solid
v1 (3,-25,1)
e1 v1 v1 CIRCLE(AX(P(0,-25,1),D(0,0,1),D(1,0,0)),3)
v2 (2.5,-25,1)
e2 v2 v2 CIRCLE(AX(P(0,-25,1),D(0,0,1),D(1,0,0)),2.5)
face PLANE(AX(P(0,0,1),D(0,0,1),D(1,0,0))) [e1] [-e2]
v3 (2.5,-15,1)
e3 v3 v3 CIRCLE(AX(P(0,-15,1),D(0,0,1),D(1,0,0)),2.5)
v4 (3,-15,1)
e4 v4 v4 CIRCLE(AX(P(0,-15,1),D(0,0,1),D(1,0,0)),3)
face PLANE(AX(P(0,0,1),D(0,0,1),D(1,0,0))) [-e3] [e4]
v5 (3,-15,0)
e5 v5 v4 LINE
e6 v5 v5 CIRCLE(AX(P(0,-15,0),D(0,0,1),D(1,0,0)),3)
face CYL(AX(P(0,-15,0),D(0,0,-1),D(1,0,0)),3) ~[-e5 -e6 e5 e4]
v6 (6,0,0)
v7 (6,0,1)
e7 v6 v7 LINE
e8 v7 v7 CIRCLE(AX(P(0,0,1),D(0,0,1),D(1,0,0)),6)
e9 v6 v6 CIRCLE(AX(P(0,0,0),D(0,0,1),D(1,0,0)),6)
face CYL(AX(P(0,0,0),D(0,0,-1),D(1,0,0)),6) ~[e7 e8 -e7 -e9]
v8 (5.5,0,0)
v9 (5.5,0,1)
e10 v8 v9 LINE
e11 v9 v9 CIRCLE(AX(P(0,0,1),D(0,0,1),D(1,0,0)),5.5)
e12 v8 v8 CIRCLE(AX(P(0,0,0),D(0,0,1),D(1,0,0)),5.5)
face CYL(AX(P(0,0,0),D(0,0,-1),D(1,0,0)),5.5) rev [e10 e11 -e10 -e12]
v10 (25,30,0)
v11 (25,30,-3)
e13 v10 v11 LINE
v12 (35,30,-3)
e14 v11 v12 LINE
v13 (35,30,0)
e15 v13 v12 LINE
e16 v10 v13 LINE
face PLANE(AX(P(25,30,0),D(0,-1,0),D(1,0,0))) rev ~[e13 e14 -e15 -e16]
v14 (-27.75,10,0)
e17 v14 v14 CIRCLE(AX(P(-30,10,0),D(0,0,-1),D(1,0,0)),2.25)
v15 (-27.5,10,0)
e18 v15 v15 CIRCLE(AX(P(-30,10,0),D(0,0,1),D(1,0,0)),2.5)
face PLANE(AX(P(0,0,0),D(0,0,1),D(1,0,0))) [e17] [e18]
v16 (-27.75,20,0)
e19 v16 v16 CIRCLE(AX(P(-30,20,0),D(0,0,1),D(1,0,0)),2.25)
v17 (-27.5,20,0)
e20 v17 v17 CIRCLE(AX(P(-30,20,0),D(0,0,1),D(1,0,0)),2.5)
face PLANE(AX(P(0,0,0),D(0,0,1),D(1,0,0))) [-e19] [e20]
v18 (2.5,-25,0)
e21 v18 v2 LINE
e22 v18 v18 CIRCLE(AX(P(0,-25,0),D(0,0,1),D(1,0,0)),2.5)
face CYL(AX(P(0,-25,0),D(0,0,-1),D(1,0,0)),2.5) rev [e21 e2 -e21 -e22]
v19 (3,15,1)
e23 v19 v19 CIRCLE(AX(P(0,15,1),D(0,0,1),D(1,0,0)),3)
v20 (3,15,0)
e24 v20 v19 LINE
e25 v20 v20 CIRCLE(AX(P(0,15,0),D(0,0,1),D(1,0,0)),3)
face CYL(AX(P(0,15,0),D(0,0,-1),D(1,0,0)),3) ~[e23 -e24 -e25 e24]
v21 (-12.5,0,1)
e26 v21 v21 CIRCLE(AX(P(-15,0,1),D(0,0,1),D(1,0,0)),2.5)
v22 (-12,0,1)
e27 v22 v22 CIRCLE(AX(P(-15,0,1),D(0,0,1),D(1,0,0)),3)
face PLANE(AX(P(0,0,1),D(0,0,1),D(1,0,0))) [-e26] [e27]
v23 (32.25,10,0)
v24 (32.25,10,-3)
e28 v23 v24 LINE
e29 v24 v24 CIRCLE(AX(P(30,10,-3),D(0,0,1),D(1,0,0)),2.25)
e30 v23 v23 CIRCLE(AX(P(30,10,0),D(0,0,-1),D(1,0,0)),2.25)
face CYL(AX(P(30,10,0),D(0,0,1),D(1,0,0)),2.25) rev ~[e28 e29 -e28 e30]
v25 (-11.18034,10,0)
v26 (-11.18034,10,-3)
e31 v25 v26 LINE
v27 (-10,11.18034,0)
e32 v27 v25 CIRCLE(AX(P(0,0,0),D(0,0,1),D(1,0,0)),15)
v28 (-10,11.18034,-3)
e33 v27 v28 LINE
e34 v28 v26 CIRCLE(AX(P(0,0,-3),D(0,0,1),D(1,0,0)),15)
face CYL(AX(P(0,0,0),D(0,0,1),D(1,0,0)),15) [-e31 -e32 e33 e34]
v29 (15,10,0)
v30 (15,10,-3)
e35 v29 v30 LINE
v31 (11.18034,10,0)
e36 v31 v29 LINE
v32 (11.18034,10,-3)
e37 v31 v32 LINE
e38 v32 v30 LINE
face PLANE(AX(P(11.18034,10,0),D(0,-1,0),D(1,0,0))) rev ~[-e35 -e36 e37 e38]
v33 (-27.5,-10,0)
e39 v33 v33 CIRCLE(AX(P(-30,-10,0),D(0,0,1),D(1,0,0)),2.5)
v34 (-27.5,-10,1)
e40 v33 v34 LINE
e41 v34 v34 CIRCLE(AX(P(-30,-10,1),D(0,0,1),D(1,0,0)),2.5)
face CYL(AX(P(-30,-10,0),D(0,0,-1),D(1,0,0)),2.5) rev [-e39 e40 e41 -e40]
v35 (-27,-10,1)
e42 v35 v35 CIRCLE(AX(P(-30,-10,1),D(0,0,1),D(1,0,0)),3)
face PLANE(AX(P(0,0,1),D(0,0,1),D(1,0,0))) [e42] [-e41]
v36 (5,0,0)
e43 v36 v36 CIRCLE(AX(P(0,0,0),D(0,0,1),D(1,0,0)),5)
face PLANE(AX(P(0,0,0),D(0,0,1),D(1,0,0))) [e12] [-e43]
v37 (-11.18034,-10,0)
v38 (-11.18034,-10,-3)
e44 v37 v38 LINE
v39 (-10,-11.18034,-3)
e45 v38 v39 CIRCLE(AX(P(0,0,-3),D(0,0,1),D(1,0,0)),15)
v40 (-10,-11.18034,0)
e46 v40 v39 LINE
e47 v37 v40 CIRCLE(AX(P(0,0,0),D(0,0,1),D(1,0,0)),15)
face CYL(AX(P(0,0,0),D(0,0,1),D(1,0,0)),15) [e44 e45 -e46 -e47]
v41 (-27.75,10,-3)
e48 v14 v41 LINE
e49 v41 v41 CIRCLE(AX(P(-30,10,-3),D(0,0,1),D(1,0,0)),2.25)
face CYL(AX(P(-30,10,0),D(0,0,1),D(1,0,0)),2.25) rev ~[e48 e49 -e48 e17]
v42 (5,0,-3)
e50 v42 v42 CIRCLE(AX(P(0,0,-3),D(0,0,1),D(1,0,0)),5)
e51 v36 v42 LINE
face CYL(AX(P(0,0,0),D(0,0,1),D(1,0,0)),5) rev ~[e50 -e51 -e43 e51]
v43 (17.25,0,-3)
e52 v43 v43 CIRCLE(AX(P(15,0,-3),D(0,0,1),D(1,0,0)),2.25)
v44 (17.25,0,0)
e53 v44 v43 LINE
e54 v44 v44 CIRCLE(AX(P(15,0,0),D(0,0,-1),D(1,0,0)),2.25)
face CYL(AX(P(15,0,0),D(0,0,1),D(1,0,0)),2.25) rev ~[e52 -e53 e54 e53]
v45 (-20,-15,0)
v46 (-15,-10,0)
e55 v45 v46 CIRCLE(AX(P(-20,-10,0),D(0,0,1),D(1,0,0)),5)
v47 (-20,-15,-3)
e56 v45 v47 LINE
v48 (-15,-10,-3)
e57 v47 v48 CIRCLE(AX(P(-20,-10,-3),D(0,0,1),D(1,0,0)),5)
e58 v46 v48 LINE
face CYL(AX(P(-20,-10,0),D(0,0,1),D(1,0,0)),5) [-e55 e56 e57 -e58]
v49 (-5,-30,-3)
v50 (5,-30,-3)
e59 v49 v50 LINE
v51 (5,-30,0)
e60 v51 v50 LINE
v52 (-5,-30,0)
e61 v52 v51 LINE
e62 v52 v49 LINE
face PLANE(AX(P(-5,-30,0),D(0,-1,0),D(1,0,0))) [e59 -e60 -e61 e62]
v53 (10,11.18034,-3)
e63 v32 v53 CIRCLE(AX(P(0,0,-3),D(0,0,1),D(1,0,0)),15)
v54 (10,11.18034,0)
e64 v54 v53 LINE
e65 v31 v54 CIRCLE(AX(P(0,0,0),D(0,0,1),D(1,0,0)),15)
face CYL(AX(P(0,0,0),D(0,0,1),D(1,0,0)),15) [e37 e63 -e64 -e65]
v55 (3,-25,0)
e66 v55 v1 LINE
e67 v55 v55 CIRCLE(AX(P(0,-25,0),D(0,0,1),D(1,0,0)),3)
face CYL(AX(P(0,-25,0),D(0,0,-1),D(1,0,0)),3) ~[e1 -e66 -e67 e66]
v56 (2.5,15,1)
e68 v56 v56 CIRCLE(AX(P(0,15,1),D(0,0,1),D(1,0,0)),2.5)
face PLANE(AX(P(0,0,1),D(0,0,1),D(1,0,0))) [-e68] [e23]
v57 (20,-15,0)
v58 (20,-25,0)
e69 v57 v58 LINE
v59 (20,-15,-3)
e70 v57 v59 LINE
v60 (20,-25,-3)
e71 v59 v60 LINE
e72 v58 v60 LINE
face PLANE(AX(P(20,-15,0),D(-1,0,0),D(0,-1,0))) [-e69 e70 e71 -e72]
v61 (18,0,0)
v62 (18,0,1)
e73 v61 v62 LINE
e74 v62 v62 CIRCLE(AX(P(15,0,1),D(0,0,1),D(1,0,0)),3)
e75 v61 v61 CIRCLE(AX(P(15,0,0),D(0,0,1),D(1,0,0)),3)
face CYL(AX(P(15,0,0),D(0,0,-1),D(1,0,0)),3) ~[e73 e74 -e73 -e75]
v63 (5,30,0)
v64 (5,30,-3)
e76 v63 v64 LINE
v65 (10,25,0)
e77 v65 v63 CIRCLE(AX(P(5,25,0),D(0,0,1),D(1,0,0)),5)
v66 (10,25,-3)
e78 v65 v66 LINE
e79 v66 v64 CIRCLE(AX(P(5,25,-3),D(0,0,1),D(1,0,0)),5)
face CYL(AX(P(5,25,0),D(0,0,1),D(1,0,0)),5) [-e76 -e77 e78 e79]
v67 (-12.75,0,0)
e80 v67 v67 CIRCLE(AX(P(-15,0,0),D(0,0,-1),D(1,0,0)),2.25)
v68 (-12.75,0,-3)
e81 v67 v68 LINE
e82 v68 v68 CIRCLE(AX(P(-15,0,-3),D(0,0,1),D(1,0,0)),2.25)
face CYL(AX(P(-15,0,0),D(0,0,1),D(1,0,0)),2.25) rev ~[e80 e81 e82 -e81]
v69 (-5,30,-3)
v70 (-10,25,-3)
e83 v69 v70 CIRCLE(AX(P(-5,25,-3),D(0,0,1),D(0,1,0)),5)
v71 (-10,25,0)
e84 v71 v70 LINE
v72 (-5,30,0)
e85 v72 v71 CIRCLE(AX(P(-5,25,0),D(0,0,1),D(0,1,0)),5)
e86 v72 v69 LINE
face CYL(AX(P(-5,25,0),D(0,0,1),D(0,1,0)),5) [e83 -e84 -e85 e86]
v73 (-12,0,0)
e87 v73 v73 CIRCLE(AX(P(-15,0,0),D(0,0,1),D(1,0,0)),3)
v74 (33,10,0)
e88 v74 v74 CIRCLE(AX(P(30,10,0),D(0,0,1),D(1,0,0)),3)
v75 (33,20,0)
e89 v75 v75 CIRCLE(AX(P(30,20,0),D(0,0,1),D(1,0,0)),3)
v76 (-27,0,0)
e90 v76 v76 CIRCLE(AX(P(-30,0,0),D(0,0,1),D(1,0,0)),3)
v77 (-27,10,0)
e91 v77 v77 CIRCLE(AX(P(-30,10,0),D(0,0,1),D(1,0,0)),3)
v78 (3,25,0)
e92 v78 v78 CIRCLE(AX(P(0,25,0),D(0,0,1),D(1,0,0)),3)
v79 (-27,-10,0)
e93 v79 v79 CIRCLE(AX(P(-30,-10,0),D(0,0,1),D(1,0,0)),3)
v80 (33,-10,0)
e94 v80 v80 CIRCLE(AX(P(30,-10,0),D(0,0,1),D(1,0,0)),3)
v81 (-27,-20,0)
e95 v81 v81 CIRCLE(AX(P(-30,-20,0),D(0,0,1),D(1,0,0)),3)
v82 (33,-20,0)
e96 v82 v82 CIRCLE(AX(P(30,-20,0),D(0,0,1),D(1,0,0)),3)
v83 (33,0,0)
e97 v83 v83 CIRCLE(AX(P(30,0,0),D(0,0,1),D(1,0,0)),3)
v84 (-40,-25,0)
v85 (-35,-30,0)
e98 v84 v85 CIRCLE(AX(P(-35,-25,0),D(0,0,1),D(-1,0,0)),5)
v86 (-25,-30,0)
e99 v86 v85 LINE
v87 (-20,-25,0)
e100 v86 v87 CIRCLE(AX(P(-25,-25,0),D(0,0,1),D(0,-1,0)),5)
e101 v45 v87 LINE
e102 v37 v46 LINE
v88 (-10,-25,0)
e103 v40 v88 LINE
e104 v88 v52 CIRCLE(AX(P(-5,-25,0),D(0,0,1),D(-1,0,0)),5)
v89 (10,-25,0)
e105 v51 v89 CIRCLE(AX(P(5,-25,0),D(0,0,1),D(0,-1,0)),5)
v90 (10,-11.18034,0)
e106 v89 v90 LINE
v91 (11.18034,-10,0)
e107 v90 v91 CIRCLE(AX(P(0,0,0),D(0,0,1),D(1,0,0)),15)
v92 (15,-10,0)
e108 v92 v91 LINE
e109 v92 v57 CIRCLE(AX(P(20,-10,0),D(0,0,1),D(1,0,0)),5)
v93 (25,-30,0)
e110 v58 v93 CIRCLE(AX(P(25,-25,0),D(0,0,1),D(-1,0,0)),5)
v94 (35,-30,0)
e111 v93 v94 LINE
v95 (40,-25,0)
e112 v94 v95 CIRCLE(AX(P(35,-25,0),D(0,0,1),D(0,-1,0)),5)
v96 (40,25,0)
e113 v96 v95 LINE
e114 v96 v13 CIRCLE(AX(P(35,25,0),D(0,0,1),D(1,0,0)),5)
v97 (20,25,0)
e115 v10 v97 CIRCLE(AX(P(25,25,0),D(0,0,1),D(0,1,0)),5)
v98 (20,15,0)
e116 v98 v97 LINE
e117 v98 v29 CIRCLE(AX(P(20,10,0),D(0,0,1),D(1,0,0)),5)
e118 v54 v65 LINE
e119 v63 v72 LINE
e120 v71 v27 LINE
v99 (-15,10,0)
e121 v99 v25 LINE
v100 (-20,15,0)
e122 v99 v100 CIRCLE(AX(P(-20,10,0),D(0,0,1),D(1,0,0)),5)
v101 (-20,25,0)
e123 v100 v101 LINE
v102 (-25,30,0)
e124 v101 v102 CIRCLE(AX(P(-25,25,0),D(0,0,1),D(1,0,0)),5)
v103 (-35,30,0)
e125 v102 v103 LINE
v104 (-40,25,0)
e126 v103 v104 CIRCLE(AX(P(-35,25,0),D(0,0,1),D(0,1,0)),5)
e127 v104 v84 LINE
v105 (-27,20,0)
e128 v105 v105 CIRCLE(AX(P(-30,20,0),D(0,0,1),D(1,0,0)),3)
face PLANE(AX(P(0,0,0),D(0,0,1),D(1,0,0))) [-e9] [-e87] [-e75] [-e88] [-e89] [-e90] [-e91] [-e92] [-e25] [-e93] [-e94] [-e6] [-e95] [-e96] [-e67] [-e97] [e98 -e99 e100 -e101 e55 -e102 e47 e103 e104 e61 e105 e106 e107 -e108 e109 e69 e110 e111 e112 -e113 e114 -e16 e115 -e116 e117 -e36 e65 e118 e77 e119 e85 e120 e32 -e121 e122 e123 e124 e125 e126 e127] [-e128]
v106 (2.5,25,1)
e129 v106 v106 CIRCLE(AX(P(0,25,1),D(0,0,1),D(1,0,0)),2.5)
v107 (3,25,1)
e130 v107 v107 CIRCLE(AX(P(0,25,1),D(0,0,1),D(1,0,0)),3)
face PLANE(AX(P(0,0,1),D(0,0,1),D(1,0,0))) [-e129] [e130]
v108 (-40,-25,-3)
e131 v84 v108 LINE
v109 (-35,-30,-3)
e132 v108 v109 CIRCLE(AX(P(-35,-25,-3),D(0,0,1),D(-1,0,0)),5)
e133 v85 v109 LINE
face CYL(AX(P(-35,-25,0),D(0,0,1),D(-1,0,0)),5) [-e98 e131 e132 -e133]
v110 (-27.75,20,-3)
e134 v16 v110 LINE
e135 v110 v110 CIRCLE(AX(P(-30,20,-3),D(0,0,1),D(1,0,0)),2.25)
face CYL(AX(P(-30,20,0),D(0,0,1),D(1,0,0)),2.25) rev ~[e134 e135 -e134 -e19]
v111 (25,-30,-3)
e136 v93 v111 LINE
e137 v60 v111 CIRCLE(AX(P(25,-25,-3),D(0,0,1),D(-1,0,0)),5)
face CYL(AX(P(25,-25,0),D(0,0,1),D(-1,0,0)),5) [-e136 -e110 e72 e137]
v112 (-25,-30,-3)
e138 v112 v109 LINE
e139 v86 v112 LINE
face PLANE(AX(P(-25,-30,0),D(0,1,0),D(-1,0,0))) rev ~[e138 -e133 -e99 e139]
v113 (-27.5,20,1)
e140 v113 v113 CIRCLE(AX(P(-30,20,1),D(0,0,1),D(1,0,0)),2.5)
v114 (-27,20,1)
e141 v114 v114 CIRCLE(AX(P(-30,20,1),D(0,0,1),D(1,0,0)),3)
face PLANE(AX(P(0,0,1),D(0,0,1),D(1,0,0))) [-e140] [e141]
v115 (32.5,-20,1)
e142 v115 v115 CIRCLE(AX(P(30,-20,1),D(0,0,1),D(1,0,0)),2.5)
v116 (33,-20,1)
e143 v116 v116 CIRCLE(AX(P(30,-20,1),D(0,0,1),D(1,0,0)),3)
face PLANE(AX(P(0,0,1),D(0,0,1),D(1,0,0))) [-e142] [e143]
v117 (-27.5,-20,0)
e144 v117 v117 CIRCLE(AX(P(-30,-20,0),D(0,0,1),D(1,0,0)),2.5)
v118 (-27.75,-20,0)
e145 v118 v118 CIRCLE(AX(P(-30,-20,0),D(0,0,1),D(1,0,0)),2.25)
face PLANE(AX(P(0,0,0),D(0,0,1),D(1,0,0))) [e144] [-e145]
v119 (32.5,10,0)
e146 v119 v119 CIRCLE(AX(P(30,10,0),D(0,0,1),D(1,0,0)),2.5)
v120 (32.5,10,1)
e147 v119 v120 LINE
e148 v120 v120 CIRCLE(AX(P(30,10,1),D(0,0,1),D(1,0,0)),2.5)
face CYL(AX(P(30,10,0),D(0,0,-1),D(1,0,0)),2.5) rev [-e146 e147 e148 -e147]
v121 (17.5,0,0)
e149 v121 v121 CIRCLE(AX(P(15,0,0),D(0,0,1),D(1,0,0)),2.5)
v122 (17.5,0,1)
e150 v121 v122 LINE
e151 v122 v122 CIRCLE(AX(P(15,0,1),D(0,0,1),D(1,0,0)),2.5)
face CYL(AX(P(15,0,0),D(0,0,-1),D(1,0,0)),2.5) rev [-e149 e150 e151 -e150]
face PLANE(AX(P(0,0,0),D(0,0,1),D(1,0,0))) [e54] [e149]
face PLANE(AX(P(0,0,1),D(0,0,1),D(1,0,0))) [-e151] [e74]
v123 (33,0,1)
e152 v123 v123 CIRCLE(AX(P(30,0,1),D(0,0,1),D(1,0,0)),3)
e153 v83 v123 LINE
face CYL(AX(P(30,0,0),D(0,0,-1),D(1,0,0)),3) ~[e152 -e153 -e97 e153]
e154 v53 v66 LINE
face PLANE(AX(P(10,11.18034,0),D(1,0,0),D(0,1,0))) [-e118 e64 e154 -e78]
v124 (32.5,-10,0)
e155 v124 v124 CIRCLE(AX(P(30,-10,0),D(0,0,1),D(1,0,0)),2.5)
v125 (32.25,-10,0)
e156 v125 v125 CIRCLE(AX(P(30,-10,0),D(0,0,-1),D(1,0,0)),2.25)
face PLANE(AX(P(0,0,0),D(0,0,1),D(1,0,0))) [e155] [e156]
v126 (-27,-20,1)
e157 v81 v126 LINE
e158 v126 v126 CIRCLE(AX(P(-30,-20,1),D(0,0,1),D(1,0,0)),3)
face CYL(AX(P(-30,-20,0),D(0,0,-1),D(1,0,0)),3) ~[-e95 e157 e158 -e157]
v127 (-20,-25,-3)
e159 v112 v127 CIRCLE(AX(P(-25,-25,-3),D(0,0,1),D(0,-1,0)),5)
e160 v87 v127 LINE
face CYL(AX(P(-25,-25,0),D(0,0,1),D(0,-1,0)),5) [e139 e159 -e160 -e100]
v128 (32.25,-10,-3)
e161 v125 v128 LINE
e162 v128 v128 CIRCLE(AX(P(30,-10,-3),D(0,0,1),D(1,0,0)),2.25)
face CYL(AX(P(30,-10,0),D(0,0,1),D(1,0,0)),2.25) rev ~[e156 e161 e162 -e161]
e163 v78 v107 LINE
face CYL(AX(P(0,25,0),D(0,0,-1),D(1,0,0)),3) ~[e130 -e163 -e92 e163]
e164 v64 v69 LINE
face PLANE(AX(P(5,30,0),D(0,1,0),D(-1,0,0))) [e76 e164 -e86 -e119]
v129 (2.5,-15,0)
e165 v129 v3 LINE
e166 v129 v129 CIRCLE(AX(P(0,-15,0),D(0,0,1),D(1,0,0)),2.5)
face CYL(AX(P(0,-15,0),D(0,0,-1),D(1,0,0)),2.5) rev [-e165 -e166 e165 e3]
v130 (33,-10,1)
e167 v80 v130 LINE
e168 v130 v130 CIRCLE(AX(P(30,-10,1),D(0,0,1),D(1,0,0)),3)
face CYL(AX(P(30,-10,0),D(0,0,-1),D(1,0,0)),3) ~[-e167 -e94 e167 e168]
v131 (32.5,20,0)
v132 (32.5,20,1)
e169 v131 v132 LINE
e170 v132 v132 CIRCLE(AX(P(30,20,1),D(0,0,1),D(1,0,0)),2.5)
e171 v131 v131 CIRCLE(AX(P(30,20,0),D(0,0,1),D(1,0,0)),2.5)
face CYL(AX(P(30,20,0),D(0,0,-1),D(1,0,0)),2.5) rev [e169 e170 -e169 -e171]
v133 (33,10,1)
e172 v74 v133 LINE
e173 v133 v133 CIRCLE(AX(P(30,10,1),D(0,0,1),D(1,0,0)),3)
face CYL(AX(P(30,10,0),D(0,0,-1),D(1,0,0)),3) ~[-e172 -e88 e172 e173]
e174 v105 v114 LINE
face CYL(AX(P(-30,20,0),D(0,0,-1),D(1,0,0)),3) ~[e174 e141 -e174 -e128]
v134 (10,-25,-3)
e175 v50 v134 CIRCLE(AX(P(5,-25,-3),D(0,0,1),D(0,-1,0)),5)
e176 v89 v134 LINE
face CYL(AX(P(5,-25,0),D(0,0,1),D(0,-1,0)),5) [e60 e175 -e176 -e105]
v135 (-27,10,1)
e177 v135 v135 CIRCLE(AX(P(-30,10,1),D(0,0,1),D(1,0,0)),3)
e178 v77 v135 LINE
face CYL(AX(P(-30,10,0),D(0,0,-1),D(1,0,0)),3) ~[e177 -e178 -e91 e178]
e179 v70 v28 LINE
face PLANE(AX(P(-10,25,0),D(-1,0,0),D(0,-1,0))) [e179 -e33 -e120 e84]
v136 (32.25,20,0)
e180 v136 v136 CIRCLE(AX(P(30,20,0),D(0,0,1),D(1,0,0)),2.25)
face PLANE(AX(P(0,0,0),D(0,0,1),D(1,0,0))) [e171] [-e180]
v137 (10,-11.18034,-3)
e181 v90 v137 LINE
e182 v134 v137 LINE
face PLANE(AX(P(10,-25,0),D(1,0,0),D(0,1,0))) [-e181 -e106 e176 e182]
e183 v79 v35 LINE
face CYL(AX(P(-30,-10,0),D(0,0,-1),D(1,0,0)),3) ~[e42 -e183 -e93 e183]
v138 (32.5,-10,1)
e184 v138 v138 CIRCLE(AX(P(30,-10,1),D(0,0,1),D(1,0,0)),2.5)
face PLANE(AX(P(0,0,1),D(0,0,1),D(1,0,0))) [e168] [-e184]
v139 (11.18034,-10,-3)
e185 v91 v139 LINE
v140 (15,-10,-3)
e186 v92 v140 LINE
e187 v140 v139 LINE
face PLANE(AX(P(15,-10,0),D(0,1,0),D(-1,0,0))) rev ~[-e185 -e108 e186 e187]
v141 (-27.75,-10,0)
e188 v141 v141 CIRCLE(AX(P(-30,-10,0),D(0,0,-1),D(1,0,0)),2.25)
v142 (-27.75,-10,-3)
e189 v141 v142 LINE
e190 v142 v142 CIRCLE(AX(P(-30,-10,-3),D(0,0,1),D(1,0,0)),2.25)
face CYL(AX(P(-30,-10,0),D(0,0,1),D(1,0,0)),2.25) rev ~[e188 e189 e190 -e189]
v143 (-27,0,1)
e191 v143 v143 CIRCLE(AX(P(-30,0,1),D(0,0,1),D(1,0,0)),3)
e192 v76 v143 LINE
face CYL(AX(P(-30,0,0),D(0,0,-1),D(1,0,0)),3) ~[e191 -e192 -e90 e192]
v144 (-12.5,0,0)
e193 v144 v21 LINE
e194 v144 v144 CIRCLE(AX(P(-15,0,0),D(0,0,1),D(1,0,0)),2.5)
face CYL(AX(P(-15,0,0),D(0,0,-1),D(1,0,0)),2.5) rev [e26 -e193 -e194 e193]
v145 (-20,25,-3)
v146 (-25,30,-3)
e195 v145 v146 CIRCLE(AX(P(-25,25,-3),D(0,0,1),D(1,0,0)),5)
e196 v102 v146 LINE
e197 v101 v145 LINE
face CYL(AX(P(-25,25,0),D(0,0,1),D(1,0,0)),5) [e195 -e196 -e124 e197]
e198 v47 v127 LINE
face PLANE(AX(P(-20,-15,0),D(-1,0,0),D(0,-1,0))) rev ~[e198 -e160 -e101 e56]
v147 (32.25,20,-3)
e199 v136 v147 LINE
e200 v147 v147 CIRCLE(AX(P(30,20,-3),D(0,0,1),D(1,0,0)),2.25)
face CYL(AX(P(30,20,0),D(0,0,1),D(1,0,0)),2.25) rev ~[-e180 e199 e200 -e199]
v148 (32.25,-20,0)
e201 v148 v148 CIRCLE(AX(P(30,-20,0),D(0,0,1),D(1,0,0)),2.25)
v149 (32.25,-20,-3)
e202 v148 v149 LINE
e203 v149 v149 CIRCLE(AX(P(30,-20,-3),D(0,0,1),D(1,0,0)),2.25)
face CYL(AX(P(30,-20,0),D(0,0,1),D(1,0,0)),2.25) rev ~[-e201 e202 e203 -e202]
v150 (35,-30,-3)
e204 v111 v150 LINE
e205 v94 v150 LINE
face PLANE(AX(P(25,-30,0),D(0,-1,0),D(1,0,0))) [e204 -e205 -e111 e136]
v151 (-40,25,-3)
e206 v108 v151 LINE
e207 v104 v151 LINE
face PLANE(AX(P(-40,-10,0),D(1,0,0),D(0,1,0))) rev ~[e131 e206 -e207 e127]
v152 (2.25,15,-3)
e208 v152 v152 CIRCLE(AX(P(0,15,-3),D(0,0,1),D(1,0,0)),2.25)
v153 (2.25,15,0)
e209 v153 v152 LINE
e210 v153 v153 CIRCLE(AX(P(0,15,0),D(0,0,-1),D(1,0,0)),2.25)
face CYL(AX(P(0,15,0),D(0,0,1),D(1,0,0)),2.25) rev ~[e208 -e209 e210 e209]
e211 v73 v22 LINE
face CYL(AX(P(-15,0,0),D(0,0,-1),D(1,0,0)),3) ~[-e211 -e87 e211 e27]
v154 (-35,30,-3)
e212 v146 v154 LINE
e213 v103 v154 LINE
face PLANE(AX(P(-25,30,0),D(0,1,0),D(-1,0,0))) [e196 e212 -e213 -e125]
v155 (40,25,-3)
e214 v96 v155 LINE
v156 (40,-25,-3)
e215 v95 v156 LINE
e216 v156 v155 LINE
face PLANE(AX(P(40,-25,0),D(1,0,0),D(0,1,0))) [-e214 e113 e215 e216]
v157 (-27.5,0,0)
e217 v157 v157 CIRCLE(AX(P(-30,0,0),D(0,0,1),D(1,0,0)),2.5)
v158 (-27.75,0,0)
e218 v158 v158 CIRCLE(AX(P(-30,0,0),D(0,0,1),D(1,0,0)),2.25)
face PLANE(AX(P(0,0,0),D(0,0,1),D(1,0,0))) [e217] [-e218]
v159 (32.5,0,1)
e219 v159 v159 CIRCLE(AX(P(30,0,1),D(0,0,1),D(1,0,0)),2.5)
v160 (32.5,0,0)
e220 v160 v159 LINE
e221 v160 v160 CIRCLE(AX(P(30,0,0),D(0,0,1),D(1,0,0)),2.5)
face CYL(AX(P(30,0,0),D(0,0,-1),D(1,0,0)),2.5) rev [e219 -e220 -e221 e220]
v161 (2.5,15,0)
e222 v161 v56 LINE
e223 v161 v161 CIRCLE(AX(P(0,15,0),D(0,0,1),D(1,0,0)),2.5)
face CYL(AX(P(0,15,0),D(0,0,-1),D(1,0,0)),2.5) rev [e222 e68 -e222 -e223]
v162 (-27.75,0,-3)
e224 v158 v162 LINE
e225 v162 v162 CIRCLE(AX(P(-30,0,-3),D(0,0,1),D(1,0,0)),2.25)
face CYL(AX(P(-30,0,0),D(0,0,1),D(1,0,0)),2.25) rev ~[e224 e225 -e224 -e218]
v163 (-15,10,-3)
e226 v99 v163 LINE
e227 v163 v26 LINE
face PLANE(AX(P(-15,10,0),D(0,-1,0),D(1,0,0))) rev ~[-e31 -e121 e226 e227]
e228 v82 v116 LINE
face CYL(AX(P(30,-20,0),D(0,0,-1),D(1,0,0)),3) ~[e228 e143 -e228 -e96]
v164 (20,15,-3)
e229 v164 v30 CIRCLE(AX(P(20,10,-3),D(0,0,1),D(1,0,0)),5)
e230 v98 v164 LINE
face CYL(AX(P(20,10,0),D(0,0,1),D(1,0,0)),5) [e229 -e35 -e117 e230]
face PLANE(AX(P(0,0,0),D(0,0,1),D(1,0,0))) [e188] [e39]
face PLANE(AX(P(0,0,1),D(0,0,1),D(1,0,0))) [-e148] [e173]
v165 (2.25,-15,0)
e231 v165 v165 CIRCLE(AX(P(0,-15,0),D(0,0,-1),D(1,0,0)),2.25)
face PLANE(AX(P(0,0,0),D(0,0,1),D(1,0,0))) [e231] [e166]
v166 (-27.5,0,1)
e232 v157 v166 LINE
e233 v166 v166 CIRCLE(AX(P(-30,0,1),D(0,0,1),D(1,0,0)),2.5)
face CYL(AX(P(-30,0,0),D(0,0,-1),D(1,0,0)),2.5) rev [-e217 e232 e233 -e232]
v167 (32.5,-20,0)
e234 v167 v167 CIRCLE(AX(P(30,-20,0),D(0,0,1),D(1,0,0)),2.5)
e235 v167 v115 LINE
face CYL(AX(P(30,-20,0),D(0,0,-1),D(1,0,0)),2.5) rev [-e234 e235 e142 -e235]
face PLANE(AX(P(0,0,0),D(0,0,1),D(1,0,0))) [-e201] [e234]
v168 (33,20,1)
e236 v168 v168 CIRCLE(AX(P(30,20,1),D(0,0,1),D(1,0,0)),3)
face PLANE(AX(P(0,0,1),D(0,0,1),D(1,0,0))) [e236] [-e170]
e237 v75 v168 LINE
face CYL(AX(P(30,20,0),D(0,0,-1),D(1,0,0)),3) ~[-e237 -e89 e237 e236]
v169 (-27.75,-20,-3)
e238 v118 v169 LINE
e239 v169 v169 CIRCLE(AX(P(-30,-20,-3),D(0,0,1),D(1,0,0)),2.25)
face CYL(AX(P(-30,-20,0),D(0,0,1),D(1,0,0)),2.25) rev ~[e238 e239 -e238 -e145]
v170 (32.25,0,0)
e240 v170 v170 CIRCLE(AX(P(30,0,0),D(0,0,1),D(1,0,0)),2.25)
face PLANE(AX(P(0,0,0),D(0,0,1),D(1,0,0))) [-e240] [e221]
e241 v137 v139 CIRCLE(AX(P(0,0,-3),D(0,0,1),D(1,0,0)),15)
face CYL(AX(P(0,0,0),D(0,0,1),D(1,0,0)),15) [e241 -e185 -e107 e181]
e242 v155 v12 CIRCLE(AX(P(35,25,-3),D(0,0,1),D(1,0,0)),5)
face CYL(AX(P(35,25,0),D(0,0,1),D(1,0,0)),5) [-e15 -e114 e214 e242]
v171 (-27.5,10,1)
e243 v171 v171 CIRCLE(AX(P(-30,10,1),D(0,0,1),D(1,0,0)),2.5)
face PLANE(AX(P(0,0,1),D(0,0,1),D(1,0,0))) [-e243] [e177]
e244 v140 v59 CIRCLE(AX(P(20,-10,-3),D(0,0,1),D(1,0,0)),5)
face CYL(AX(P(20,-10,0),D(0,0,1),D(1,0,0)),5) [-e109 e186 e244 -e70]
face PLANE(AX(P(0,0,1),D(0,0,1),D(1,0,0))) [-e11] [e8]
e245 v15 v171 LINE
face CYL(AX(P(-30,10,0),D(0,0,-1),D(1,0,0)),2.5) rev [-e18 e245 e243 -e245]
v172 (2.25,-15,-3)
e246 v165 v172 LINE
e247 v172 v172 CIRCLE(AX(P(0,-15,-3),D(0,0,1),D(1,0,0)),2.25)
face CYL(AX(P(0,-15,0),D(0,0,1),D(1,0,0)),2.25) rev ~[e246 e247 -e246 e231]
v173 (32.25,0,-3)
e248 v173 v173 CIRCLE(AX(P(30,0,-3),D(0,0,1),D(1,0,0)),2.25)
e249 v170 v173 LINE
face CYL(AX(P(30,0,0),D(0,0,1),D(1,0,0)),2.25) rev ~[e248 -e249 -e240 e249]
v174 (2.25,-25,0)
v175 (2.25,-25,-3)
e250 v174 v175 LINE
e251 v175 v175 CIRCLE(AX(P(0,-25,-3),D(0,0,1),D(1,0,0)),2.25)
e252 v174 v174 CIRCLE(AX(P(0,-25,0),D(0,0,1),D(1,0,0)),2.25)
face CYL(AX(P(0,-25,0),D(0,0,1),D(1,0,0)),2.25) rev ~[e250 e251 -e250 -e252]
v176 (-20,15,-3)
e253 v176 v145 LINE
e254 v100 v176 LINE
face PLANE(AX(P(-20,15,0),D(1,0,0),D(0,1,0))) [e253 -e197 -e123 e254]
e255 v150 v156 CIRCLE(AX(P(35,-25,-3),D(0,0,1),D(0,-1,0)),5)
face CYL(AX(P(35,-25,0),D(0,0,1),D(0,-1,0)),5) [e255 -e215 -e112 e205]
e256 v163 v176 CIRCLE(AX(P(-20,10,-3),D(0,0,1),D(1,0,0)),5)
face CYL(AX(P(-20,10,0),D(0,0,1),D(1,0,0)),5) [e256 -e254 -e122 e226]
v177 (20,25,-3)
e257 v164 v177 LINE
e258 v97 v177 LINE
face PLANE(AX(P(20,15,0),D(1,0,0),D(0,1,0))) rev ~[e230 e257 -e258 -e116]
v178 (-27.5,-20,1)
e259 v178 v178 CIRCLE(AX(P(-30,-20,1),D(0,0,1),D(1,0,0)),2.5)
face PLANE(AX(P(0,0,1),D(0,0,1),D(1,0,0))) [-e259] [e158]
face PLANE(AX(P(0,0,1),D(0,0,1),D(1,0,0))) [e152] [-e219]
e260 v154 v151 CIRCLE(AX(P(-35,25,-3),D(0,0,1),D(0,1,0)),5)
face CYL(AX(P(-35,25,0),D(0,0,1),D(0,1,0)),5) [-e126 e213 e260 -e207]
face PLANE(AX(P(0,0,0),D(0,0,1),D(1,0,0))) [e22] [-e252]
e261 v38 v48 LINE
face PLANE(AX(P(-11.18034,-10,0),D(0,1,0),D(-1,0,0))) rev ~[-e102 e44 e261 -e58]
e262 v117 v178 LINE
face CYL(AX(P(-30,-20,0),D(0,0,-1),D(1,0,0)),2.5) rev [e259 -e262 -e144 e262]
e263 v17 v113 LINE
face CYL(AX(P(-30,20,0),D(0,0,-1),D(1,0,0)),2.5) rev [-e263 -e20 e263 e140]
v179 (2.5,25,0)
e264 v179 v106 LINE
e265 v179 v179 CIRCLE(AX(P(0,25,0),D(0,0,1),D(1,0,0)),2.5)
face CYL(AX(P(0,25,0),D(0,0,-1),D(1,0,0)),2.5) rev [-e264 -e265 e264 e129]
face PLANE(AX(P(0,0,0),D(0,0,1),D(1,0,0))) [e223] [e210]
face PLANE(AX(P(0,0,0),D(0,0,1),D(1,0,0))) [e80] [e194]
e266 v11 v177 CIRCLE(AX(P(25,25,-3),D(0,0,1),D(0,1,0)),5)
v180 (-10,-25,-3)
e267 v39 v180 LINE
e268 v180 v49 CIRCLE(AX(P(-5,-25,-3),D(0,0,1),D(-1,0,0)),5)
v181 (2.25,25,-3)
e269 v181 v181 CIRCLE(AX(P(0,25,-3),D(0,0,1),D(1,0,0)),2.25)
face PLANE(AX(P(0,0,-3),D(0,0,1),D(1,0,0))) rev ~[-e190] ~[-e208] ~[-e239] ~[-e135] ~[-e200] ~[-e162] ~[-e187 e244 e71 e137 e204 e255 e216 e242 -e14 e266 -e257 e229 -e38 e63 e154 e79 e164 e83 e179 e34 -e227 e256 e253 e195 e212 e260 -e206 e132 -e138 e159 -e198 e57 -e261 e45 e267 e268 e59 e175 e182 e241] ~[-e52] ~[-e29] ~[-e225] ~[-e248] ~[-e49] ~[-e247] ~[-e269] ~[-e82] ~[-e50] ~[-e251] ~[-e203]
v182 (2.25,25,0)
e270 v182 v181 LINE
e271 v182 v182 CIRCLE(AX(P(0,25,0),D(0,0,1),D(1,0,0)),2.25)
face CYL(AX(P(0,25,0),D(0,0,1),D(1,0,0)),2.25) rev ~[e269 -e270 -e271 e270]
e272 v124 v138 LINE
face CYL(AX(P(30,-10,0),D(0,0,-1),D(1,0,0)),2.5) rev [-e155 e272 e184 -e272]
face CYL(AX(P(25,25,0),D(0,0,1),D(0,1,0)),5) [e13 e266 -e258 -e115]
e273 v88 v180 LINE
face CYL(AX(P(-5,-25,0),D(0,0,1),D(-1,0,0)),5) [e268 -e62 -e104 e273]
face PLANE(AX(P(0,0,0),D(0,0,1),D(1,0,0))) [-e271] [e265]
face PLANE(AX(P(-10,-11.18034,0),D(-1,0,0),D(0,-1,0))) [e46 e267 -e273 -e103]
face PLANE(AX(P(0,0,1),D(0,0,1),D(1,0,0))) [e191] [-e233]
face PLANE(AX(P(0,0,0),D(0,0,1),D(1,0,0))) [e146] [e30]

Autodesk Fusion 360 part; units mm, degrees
sketch "Esquisse1" plane through (0, 0, 0) normal (0, 0, 1) x (1, 0, 0)
  line L0 (40, -10) -> (-40, -10)
  line L1 (-40, -10) -> (-40, 10)
  line L2 (-40, 10) -> (40, 10)
  line L3 (40, 10) -> (40, -10)
  line L4 (40, -10) -> (-40, 10) construction
  line L5 (-40, -10) -> (40, 10) construction
  line L6 (-40, -10) -> (-20, -10)
  line L7 (-20, -10) -> (-20, 25)
  line L8 (-25, 30) -> (-35, 30)
  line L9 (-40, 25) -> (-40, -10)
  line L10 (-40, 10) -> (-20, 10)
  line L11 (-20, 10) -> (-20, -25)
  line L12 (-25, -30) -> (-35, -30)
  line L13 (-40, -25) -> (-40, 10)
  line L14 (40, -10) -> (20, -10)
  line L15 (20, -10) -> (20, 25)
  line L16 (25, 30) -> (35, 30)
  line L17 (40, 25) -> (40, -10)
  line L18 (40, 10) -> (20, 10)
  line L19 (20, 10) -> (20, -25)
  line L20 (25, -30) -> (35, -30)
  line L21 (40, -25) -> (40, 10)
  circle A0 centre (-30, 20) radius 2.25
  circle A1 centre (30, 20) radius 2.25
  circle A2 centre (-30, -20) radius 2.25
  circle A3 centre (30, -20) radius 2.25
  circle A4 centre (0, 0) radius 5
  circle A5 centre (-20, 10) radius 5
  circle A6 centre (20, 10) radius 5
  circle A7 centre (-20, -10) radius 5
  circle A8 centre (20, -10) radius 5
  circle A9 centre (-30, 0) radius 2.25
  circle A10 centre (30, 0) radius 2.25
  circle A11 centre (-30, 10) radius 2.25
  circle A12 centre (30, 10) radius 2.25
  circle A13 centre (-30, -10) radius 2.25
  circle A14 centre (30, -10) radius 2.25
  arc A15 (-25, -30) -> (-20, -25) centre (-25, -25) ccw
  arc A16 (-40, -25) -> (-35, -30) centre (-35, -25) ccw
  arc A17 (-35, 30) -> (-40, 25) centre (-35, 25) ccw
  arc A18 (-20, 25) -> (-25, 30) centre (-25, 25) ccw
  arc A19 (25, 30) -> (20, 25) centre (25, 25) ccw
  arc A20 (40, 25) -> (35, 30) centre (35, 25) ccw
  arc A21 (35, -30) -> (40, -25) centre (35, -25) ccw
  circle A22 centre (0, 0) radius 15
  arc A23 (20, -25) -> (25, -30) centre (25, -25) ccw
  line L22 (5, 30) -> (-5, 30)
  line L23 (-10, 25) -> (-10, -25)
  line L24 (-5, -30) -> (5, -30)
  line L25 (10, -25) -> (10, 25)
  circle A24 centre (0, 25) radius 2.25
  circle A25 centre (0, -25) radius 2.25
  circle A26 centre (0, -15) radius 2.25
  circle A27 centre (0, 15) radius 2.25
  arc A28 (-5, 30) -> (-10, 25) centre (-5, 25) ccw
  arc A29 (10, 25) -> (5, 30) centre (5, 25) ccw
  arc A30 (-10, -25) -> (-5, -30) centre (-5, -25) ccw
  arc A31 (5, -30) -> (10, -25) centre (5, -25) ccw
  circle A32 centre (-15, 0) radius 2.25
  circle A33 centre (15, 0) radius 2.25
  point P0 (-40, 30)
  point P1 (-40, -30)
  point P2 (40, 30)
  point P3 (40, -30)
  point P4 (-10, 30)
  point P5 (-10, -30)
  point P6 (10, -30)
  dimension "d1" = 80
  dimension "d2" = 20
  dimension "d3" = 20
  dimension "d4" = 40
  dimension "d5" = 20
  dimension "d6" = 40
  dimension "d7" = 20
  dimension "d8" = 40
  dimension "d9" = 20
  dimension "d10" = 40
  dimension "d11" = 4.5
  dimension "d12" = 4.5
  dimension "d13" = 4.5
  dimension "d14" = 4.5
  dimension "d15" = 10
  dimension "d16" = 10
  dimension "d17" = 10
  dimension "d18" = 10
  dimension "d19" = 10
  dimension "d20" = 4.5
  dimension "d21" = 4.5
  dimension "d22" = 4.5
  dimension "d23" = 4.5
  dimension "d24" = 4.5
  dimension "d25" = 4.5
  dimension "d28" = 5
  dimension "d29" = 30
  dimension "d30" = 5
  dimension "d31" = 20
  dimension "d32" = 60
  dimension "d33" = 4.5
  dimension "d34" = 4.5
  dimension "d35" = 4.5
  dimension "d36" = 4.5
  dimension "d37" = 5
  dimension "d38" = 5
  dimension "d39" = 5
  dimension "d40" = 5
  dimension "d41" = 4.5
  dimension "d42" = 4.5
extrude "Extrusion1" add sketch "Esquisse1" against normal blind 3 contours L0 L14 L19 L20 L21 A8 A14 A21 A23 | L0 L2 L3 L14 L15 L17 L18 L19 L21 A6 A8 A12 A14 | L2 L15 L16 L17 L18 A6 A12 A19 A20 | L0 L14 L19 A8 | L0 L14 L15 L19 A8 | L0 L19 A8 | L0 L15 L19 A8 | L0 L2 L15 L19 A6 A8 A22 A33 | L2 L15 L18 L19 A6 | L2 L15 L18 A6 | L2 L15 L19 A6 | L2 L15 A6 | L0 A22 L25 | L0 L2 A22 L25 A33 | L0 A22 L23 L25 A26 | L0 L2 L23 L25 | A22 L23 L24 L25 A26 A30 A31 | L2 A22 L25 | L0 A22 L23 | L0 L2 A22 L23 A32 | L2 A22 L23 L25 A27 | A22 L22 L23 L25 A27 A28 A29 | L0 L2 L7 L11 A5 A7 A22 A32 | L2 A22 L23 | L0 L11 A7 | L0 L7 L11 A7 | L0 L6 L11 A7 | L0 L6 L7 L11 A7 | L0 L1 L2 L6 L7 L9 L10 L11 L13 A5 A7 A11 A13 | L0 L6 L11 L12 L13 A7 A13 A15 A16 | L2 L7 L11 A5 | L2 L7 A5 | L2 L7 L10 L11 A5 | L2 L7 L10 A5 | L2 L7 L8 L9 L10 A5 A11 A17 A18
sketch "Esquisse2" plane through (0, 0, 0) normal (0, 0, 1) x (1, 0, 0)
  circle A0 centre (30, 10) radius 2.25
  circle A1 centre (0, -15) radius 2.25
  circle A2 centre (-30, 20) radius 2.25
  circle A3 centre (30, 20) radius 2.25
  circle A4 centre (0, -25) radius 2.25
  circle A5 centre (0, 25) radius 2.25
  circle A6 centre (-30, 10) radius 2.25
  circle A7 centre (30, 0) radius 2.25
  circle A8 centre (-30, 0) radius 2.25
  circle A9 centre (0, 0) radius 5
  circle A10 centre (30, -20) radius 2.25
  circle A11 centre (-30, -20) radius 2.25
  circle A12 centre (-30, -10) radius 2.25
  circle A13 centre (0, 15) radius 2.25
  circle A14 centre (-15, 0) radius 2.25
  circle A15 centre (15, 0) radius 2.25
  circle A16 centre (30, -10) radius 2.25
  arc A17 (-11.1803, -10) -> (-10, -11.1803) centre (0, 0) ccw
  line L0 (-10, -11.1803) -> (-10, -25)
  arc A18 (-10, -25) -> (-5, -30) centre (-5, -25) ccw
  line L1 (-5, -30) -> (5, -30)
  arc A19 (5, -30) -> (10, -25) centre (5, -25) ccw
  line L2 (10, -25) -> (10, -11.1803)
  arc A20 (10, -11.1803) -> (11.1803, -10) centre (0, 0) ccw
  line L3 (11.1803, -10) -> (15, -10)
  arc A21 (15, -10) -> (20, -15) centre (20, -10) ccw
  line L4 (20, -15) -> (20, -25)
  arc A22 (20, -25) -> (25, -30) centre (25, -25) ccw
  line L5 (25, -30) -> (35, -30)
  arc A23 (35, -30) -> (40, -25) centre (35, -25) ccw
  line L6 (40, -25) -> (40, 25)
  arc A24 (40, 25) -> (35, 30) centre (35, 25) ccw
  line L7 (35, 30) -> (25, 30)
  arc A25 (25, 30) -> (20, 25) centre (25, 25) ccw
  line L8 (20, 25) -> (20, 15)
  arc A26 (20, 15) -> (15, 10) centre (20, 10) ccw
  line L9 (15, 10) -> (11.1803, 10)
  arc A27 (11.1803, 10) -> (10, 11.1803) centre (0, 0) ccw
  line L10 (10, 11.1803) -> (10, 25)
  arc A28 (10, 25) -> (5, 30) centre (5, 25) ccw
  line L11 (5, 30) -> (-5, 30)
  arc A29 (-5, 30) -> (-10, 25) centre (-5, 25) ccw
  line L12 (-10, 25) -> (-10, 11.1803)
  arc A30 (-10, 11.1803) -> (-11.1803, 10) centre (0, 0) ccw
  line L13 (-11.1803, 10) -> (-15, 10)
  arc A31 (-15, 10) -> (-20, 15) centre (-20, 10) ccw
  line L14 (-20, 15) -> (-20, 25)
  arc A32 (-20, 25) -> (-25, 30) centre (-25, 25) ccw
  line L15 (-25, 30) -> (-35, 30)
  arc A33 (-35, 30) -> (-40, 25) centre (-35, 25) ccw
  line L16 (-40, 25) -> (-40, -25)
  arc A34 (-40, -25) -> (-35, -30) centre (-35, -25) ccw
  line L17 (-35, -30) -> (-25, -30)
  arc A35 (-25, -30) -> (-20, -25) centre (-25, -25) ccw
  line L18 (-20, -25) -> (-20, -15)
  arc A36 (-20, -15) -> (-15, -10) centre (-20, -10) ccw
  line L19 (-15, -10) -> (-11.1803, -10)
  circle A37 centre (0, 25) radius 2.5
  circle A38 centre (0, 25) radius 3
  circle A39 centre (0, 15) radius 2.5
  circle A40 centre (-15, 0) radius 2.5
  circle A41 centre (-30, 10) radius 3
  circle A42 centre (-30, 20) radius 2.5
  circle A43 centre (-30, 0) radius 2.5
  circle A44 centre (-30, -10) radius 2.5
  circle A45 centre (-30, -20) radius 2.5
  circle A46 centre (0, -15) radius 2.5
  circle A47 centre (0, -25) radius 2.5
  circle A48 centre (15, 0) radius 2.5
  circle A49 centre (30, 10) radius 2.5
  circle A50 centre (30, 20) radius 2.5
  circle A51 centre (30, 0) radius 2.5
  circle A52 centre (30, -10) radius 2.5
  circle A53 centre (30, -20) radius 2.5
  circle A54 centre (0, 15) radius 3
  circle A55 centre (-15, 0) radius 3
  circle A56 centre (-30, 0) radius 3
  circle A57 centre (-30, 10) radius 2.5
  circle A58 centre (-30, 20) radius 3
  circle A59 centre (-30, -10) radius 3
  circle A60 centre (-30, -20) radius 3
  circle A61 centre (0, -15) radius 3
  circle A62 centre (0, -25) radius 3
  circle A63 centre (15, 0) radius 3
  circle A64 centre (30, 20) radius 3
  circle A65 centre (30, 10) radius 3
  circle A66 centre (30, 0) radius 3
  circle A67 centre (30, -10) radius 3
  circle A68 centre (30, -20) radius 3
  circle A69 centre (0, 0) radius 5.5
  circle A70 centre (0, 0) radius 6
  dimension "d43" = 5
  dimension "d44" = 6
  dimension "d45" = 5
  dimension "d46" = 5
  dimension "d47" = 6
  dimension "d48" = 5
  dimension "d49" = 5
  dimension "d50" = 5
  dimension "d51" = 5
  dimension "d52" = 5
  dimension "d53" = 5
  dimension "d54" = 5
  dimension "d55" = 5
  dimension "d56" = 5
  dimension "d57" = 5
  dimension "d58" = 5
  dimension "d59" = 5
  dimension "d60" = 6
  dimension "d61" = 6
  dimension "d62" = 6
  dimension "d63" = 5
  dimension "d64" = 6
  dimension "d65" = 6
  dimension "d66" = 6
  dimension "d67" = 6
  dimension "d68" = 6
  dimension "d69" = 6
  dimension "d70" = 6
  dimension "d71" = 6
  dimension "d72" = 6
  dimension "d73" = 6
  dimension "d74" = 6
  dimension "d75" = 11
  dimension "d76" = 12
extrude "Extrusion2" add sketch "Esquisse2" along normal blind 1 contours A38 | A41 | A54 | A55 | A56 | A58 | A59 | A60 | A61 | A62 | A63 | A64 | A65 | A66 | A67 | A68 | A70
